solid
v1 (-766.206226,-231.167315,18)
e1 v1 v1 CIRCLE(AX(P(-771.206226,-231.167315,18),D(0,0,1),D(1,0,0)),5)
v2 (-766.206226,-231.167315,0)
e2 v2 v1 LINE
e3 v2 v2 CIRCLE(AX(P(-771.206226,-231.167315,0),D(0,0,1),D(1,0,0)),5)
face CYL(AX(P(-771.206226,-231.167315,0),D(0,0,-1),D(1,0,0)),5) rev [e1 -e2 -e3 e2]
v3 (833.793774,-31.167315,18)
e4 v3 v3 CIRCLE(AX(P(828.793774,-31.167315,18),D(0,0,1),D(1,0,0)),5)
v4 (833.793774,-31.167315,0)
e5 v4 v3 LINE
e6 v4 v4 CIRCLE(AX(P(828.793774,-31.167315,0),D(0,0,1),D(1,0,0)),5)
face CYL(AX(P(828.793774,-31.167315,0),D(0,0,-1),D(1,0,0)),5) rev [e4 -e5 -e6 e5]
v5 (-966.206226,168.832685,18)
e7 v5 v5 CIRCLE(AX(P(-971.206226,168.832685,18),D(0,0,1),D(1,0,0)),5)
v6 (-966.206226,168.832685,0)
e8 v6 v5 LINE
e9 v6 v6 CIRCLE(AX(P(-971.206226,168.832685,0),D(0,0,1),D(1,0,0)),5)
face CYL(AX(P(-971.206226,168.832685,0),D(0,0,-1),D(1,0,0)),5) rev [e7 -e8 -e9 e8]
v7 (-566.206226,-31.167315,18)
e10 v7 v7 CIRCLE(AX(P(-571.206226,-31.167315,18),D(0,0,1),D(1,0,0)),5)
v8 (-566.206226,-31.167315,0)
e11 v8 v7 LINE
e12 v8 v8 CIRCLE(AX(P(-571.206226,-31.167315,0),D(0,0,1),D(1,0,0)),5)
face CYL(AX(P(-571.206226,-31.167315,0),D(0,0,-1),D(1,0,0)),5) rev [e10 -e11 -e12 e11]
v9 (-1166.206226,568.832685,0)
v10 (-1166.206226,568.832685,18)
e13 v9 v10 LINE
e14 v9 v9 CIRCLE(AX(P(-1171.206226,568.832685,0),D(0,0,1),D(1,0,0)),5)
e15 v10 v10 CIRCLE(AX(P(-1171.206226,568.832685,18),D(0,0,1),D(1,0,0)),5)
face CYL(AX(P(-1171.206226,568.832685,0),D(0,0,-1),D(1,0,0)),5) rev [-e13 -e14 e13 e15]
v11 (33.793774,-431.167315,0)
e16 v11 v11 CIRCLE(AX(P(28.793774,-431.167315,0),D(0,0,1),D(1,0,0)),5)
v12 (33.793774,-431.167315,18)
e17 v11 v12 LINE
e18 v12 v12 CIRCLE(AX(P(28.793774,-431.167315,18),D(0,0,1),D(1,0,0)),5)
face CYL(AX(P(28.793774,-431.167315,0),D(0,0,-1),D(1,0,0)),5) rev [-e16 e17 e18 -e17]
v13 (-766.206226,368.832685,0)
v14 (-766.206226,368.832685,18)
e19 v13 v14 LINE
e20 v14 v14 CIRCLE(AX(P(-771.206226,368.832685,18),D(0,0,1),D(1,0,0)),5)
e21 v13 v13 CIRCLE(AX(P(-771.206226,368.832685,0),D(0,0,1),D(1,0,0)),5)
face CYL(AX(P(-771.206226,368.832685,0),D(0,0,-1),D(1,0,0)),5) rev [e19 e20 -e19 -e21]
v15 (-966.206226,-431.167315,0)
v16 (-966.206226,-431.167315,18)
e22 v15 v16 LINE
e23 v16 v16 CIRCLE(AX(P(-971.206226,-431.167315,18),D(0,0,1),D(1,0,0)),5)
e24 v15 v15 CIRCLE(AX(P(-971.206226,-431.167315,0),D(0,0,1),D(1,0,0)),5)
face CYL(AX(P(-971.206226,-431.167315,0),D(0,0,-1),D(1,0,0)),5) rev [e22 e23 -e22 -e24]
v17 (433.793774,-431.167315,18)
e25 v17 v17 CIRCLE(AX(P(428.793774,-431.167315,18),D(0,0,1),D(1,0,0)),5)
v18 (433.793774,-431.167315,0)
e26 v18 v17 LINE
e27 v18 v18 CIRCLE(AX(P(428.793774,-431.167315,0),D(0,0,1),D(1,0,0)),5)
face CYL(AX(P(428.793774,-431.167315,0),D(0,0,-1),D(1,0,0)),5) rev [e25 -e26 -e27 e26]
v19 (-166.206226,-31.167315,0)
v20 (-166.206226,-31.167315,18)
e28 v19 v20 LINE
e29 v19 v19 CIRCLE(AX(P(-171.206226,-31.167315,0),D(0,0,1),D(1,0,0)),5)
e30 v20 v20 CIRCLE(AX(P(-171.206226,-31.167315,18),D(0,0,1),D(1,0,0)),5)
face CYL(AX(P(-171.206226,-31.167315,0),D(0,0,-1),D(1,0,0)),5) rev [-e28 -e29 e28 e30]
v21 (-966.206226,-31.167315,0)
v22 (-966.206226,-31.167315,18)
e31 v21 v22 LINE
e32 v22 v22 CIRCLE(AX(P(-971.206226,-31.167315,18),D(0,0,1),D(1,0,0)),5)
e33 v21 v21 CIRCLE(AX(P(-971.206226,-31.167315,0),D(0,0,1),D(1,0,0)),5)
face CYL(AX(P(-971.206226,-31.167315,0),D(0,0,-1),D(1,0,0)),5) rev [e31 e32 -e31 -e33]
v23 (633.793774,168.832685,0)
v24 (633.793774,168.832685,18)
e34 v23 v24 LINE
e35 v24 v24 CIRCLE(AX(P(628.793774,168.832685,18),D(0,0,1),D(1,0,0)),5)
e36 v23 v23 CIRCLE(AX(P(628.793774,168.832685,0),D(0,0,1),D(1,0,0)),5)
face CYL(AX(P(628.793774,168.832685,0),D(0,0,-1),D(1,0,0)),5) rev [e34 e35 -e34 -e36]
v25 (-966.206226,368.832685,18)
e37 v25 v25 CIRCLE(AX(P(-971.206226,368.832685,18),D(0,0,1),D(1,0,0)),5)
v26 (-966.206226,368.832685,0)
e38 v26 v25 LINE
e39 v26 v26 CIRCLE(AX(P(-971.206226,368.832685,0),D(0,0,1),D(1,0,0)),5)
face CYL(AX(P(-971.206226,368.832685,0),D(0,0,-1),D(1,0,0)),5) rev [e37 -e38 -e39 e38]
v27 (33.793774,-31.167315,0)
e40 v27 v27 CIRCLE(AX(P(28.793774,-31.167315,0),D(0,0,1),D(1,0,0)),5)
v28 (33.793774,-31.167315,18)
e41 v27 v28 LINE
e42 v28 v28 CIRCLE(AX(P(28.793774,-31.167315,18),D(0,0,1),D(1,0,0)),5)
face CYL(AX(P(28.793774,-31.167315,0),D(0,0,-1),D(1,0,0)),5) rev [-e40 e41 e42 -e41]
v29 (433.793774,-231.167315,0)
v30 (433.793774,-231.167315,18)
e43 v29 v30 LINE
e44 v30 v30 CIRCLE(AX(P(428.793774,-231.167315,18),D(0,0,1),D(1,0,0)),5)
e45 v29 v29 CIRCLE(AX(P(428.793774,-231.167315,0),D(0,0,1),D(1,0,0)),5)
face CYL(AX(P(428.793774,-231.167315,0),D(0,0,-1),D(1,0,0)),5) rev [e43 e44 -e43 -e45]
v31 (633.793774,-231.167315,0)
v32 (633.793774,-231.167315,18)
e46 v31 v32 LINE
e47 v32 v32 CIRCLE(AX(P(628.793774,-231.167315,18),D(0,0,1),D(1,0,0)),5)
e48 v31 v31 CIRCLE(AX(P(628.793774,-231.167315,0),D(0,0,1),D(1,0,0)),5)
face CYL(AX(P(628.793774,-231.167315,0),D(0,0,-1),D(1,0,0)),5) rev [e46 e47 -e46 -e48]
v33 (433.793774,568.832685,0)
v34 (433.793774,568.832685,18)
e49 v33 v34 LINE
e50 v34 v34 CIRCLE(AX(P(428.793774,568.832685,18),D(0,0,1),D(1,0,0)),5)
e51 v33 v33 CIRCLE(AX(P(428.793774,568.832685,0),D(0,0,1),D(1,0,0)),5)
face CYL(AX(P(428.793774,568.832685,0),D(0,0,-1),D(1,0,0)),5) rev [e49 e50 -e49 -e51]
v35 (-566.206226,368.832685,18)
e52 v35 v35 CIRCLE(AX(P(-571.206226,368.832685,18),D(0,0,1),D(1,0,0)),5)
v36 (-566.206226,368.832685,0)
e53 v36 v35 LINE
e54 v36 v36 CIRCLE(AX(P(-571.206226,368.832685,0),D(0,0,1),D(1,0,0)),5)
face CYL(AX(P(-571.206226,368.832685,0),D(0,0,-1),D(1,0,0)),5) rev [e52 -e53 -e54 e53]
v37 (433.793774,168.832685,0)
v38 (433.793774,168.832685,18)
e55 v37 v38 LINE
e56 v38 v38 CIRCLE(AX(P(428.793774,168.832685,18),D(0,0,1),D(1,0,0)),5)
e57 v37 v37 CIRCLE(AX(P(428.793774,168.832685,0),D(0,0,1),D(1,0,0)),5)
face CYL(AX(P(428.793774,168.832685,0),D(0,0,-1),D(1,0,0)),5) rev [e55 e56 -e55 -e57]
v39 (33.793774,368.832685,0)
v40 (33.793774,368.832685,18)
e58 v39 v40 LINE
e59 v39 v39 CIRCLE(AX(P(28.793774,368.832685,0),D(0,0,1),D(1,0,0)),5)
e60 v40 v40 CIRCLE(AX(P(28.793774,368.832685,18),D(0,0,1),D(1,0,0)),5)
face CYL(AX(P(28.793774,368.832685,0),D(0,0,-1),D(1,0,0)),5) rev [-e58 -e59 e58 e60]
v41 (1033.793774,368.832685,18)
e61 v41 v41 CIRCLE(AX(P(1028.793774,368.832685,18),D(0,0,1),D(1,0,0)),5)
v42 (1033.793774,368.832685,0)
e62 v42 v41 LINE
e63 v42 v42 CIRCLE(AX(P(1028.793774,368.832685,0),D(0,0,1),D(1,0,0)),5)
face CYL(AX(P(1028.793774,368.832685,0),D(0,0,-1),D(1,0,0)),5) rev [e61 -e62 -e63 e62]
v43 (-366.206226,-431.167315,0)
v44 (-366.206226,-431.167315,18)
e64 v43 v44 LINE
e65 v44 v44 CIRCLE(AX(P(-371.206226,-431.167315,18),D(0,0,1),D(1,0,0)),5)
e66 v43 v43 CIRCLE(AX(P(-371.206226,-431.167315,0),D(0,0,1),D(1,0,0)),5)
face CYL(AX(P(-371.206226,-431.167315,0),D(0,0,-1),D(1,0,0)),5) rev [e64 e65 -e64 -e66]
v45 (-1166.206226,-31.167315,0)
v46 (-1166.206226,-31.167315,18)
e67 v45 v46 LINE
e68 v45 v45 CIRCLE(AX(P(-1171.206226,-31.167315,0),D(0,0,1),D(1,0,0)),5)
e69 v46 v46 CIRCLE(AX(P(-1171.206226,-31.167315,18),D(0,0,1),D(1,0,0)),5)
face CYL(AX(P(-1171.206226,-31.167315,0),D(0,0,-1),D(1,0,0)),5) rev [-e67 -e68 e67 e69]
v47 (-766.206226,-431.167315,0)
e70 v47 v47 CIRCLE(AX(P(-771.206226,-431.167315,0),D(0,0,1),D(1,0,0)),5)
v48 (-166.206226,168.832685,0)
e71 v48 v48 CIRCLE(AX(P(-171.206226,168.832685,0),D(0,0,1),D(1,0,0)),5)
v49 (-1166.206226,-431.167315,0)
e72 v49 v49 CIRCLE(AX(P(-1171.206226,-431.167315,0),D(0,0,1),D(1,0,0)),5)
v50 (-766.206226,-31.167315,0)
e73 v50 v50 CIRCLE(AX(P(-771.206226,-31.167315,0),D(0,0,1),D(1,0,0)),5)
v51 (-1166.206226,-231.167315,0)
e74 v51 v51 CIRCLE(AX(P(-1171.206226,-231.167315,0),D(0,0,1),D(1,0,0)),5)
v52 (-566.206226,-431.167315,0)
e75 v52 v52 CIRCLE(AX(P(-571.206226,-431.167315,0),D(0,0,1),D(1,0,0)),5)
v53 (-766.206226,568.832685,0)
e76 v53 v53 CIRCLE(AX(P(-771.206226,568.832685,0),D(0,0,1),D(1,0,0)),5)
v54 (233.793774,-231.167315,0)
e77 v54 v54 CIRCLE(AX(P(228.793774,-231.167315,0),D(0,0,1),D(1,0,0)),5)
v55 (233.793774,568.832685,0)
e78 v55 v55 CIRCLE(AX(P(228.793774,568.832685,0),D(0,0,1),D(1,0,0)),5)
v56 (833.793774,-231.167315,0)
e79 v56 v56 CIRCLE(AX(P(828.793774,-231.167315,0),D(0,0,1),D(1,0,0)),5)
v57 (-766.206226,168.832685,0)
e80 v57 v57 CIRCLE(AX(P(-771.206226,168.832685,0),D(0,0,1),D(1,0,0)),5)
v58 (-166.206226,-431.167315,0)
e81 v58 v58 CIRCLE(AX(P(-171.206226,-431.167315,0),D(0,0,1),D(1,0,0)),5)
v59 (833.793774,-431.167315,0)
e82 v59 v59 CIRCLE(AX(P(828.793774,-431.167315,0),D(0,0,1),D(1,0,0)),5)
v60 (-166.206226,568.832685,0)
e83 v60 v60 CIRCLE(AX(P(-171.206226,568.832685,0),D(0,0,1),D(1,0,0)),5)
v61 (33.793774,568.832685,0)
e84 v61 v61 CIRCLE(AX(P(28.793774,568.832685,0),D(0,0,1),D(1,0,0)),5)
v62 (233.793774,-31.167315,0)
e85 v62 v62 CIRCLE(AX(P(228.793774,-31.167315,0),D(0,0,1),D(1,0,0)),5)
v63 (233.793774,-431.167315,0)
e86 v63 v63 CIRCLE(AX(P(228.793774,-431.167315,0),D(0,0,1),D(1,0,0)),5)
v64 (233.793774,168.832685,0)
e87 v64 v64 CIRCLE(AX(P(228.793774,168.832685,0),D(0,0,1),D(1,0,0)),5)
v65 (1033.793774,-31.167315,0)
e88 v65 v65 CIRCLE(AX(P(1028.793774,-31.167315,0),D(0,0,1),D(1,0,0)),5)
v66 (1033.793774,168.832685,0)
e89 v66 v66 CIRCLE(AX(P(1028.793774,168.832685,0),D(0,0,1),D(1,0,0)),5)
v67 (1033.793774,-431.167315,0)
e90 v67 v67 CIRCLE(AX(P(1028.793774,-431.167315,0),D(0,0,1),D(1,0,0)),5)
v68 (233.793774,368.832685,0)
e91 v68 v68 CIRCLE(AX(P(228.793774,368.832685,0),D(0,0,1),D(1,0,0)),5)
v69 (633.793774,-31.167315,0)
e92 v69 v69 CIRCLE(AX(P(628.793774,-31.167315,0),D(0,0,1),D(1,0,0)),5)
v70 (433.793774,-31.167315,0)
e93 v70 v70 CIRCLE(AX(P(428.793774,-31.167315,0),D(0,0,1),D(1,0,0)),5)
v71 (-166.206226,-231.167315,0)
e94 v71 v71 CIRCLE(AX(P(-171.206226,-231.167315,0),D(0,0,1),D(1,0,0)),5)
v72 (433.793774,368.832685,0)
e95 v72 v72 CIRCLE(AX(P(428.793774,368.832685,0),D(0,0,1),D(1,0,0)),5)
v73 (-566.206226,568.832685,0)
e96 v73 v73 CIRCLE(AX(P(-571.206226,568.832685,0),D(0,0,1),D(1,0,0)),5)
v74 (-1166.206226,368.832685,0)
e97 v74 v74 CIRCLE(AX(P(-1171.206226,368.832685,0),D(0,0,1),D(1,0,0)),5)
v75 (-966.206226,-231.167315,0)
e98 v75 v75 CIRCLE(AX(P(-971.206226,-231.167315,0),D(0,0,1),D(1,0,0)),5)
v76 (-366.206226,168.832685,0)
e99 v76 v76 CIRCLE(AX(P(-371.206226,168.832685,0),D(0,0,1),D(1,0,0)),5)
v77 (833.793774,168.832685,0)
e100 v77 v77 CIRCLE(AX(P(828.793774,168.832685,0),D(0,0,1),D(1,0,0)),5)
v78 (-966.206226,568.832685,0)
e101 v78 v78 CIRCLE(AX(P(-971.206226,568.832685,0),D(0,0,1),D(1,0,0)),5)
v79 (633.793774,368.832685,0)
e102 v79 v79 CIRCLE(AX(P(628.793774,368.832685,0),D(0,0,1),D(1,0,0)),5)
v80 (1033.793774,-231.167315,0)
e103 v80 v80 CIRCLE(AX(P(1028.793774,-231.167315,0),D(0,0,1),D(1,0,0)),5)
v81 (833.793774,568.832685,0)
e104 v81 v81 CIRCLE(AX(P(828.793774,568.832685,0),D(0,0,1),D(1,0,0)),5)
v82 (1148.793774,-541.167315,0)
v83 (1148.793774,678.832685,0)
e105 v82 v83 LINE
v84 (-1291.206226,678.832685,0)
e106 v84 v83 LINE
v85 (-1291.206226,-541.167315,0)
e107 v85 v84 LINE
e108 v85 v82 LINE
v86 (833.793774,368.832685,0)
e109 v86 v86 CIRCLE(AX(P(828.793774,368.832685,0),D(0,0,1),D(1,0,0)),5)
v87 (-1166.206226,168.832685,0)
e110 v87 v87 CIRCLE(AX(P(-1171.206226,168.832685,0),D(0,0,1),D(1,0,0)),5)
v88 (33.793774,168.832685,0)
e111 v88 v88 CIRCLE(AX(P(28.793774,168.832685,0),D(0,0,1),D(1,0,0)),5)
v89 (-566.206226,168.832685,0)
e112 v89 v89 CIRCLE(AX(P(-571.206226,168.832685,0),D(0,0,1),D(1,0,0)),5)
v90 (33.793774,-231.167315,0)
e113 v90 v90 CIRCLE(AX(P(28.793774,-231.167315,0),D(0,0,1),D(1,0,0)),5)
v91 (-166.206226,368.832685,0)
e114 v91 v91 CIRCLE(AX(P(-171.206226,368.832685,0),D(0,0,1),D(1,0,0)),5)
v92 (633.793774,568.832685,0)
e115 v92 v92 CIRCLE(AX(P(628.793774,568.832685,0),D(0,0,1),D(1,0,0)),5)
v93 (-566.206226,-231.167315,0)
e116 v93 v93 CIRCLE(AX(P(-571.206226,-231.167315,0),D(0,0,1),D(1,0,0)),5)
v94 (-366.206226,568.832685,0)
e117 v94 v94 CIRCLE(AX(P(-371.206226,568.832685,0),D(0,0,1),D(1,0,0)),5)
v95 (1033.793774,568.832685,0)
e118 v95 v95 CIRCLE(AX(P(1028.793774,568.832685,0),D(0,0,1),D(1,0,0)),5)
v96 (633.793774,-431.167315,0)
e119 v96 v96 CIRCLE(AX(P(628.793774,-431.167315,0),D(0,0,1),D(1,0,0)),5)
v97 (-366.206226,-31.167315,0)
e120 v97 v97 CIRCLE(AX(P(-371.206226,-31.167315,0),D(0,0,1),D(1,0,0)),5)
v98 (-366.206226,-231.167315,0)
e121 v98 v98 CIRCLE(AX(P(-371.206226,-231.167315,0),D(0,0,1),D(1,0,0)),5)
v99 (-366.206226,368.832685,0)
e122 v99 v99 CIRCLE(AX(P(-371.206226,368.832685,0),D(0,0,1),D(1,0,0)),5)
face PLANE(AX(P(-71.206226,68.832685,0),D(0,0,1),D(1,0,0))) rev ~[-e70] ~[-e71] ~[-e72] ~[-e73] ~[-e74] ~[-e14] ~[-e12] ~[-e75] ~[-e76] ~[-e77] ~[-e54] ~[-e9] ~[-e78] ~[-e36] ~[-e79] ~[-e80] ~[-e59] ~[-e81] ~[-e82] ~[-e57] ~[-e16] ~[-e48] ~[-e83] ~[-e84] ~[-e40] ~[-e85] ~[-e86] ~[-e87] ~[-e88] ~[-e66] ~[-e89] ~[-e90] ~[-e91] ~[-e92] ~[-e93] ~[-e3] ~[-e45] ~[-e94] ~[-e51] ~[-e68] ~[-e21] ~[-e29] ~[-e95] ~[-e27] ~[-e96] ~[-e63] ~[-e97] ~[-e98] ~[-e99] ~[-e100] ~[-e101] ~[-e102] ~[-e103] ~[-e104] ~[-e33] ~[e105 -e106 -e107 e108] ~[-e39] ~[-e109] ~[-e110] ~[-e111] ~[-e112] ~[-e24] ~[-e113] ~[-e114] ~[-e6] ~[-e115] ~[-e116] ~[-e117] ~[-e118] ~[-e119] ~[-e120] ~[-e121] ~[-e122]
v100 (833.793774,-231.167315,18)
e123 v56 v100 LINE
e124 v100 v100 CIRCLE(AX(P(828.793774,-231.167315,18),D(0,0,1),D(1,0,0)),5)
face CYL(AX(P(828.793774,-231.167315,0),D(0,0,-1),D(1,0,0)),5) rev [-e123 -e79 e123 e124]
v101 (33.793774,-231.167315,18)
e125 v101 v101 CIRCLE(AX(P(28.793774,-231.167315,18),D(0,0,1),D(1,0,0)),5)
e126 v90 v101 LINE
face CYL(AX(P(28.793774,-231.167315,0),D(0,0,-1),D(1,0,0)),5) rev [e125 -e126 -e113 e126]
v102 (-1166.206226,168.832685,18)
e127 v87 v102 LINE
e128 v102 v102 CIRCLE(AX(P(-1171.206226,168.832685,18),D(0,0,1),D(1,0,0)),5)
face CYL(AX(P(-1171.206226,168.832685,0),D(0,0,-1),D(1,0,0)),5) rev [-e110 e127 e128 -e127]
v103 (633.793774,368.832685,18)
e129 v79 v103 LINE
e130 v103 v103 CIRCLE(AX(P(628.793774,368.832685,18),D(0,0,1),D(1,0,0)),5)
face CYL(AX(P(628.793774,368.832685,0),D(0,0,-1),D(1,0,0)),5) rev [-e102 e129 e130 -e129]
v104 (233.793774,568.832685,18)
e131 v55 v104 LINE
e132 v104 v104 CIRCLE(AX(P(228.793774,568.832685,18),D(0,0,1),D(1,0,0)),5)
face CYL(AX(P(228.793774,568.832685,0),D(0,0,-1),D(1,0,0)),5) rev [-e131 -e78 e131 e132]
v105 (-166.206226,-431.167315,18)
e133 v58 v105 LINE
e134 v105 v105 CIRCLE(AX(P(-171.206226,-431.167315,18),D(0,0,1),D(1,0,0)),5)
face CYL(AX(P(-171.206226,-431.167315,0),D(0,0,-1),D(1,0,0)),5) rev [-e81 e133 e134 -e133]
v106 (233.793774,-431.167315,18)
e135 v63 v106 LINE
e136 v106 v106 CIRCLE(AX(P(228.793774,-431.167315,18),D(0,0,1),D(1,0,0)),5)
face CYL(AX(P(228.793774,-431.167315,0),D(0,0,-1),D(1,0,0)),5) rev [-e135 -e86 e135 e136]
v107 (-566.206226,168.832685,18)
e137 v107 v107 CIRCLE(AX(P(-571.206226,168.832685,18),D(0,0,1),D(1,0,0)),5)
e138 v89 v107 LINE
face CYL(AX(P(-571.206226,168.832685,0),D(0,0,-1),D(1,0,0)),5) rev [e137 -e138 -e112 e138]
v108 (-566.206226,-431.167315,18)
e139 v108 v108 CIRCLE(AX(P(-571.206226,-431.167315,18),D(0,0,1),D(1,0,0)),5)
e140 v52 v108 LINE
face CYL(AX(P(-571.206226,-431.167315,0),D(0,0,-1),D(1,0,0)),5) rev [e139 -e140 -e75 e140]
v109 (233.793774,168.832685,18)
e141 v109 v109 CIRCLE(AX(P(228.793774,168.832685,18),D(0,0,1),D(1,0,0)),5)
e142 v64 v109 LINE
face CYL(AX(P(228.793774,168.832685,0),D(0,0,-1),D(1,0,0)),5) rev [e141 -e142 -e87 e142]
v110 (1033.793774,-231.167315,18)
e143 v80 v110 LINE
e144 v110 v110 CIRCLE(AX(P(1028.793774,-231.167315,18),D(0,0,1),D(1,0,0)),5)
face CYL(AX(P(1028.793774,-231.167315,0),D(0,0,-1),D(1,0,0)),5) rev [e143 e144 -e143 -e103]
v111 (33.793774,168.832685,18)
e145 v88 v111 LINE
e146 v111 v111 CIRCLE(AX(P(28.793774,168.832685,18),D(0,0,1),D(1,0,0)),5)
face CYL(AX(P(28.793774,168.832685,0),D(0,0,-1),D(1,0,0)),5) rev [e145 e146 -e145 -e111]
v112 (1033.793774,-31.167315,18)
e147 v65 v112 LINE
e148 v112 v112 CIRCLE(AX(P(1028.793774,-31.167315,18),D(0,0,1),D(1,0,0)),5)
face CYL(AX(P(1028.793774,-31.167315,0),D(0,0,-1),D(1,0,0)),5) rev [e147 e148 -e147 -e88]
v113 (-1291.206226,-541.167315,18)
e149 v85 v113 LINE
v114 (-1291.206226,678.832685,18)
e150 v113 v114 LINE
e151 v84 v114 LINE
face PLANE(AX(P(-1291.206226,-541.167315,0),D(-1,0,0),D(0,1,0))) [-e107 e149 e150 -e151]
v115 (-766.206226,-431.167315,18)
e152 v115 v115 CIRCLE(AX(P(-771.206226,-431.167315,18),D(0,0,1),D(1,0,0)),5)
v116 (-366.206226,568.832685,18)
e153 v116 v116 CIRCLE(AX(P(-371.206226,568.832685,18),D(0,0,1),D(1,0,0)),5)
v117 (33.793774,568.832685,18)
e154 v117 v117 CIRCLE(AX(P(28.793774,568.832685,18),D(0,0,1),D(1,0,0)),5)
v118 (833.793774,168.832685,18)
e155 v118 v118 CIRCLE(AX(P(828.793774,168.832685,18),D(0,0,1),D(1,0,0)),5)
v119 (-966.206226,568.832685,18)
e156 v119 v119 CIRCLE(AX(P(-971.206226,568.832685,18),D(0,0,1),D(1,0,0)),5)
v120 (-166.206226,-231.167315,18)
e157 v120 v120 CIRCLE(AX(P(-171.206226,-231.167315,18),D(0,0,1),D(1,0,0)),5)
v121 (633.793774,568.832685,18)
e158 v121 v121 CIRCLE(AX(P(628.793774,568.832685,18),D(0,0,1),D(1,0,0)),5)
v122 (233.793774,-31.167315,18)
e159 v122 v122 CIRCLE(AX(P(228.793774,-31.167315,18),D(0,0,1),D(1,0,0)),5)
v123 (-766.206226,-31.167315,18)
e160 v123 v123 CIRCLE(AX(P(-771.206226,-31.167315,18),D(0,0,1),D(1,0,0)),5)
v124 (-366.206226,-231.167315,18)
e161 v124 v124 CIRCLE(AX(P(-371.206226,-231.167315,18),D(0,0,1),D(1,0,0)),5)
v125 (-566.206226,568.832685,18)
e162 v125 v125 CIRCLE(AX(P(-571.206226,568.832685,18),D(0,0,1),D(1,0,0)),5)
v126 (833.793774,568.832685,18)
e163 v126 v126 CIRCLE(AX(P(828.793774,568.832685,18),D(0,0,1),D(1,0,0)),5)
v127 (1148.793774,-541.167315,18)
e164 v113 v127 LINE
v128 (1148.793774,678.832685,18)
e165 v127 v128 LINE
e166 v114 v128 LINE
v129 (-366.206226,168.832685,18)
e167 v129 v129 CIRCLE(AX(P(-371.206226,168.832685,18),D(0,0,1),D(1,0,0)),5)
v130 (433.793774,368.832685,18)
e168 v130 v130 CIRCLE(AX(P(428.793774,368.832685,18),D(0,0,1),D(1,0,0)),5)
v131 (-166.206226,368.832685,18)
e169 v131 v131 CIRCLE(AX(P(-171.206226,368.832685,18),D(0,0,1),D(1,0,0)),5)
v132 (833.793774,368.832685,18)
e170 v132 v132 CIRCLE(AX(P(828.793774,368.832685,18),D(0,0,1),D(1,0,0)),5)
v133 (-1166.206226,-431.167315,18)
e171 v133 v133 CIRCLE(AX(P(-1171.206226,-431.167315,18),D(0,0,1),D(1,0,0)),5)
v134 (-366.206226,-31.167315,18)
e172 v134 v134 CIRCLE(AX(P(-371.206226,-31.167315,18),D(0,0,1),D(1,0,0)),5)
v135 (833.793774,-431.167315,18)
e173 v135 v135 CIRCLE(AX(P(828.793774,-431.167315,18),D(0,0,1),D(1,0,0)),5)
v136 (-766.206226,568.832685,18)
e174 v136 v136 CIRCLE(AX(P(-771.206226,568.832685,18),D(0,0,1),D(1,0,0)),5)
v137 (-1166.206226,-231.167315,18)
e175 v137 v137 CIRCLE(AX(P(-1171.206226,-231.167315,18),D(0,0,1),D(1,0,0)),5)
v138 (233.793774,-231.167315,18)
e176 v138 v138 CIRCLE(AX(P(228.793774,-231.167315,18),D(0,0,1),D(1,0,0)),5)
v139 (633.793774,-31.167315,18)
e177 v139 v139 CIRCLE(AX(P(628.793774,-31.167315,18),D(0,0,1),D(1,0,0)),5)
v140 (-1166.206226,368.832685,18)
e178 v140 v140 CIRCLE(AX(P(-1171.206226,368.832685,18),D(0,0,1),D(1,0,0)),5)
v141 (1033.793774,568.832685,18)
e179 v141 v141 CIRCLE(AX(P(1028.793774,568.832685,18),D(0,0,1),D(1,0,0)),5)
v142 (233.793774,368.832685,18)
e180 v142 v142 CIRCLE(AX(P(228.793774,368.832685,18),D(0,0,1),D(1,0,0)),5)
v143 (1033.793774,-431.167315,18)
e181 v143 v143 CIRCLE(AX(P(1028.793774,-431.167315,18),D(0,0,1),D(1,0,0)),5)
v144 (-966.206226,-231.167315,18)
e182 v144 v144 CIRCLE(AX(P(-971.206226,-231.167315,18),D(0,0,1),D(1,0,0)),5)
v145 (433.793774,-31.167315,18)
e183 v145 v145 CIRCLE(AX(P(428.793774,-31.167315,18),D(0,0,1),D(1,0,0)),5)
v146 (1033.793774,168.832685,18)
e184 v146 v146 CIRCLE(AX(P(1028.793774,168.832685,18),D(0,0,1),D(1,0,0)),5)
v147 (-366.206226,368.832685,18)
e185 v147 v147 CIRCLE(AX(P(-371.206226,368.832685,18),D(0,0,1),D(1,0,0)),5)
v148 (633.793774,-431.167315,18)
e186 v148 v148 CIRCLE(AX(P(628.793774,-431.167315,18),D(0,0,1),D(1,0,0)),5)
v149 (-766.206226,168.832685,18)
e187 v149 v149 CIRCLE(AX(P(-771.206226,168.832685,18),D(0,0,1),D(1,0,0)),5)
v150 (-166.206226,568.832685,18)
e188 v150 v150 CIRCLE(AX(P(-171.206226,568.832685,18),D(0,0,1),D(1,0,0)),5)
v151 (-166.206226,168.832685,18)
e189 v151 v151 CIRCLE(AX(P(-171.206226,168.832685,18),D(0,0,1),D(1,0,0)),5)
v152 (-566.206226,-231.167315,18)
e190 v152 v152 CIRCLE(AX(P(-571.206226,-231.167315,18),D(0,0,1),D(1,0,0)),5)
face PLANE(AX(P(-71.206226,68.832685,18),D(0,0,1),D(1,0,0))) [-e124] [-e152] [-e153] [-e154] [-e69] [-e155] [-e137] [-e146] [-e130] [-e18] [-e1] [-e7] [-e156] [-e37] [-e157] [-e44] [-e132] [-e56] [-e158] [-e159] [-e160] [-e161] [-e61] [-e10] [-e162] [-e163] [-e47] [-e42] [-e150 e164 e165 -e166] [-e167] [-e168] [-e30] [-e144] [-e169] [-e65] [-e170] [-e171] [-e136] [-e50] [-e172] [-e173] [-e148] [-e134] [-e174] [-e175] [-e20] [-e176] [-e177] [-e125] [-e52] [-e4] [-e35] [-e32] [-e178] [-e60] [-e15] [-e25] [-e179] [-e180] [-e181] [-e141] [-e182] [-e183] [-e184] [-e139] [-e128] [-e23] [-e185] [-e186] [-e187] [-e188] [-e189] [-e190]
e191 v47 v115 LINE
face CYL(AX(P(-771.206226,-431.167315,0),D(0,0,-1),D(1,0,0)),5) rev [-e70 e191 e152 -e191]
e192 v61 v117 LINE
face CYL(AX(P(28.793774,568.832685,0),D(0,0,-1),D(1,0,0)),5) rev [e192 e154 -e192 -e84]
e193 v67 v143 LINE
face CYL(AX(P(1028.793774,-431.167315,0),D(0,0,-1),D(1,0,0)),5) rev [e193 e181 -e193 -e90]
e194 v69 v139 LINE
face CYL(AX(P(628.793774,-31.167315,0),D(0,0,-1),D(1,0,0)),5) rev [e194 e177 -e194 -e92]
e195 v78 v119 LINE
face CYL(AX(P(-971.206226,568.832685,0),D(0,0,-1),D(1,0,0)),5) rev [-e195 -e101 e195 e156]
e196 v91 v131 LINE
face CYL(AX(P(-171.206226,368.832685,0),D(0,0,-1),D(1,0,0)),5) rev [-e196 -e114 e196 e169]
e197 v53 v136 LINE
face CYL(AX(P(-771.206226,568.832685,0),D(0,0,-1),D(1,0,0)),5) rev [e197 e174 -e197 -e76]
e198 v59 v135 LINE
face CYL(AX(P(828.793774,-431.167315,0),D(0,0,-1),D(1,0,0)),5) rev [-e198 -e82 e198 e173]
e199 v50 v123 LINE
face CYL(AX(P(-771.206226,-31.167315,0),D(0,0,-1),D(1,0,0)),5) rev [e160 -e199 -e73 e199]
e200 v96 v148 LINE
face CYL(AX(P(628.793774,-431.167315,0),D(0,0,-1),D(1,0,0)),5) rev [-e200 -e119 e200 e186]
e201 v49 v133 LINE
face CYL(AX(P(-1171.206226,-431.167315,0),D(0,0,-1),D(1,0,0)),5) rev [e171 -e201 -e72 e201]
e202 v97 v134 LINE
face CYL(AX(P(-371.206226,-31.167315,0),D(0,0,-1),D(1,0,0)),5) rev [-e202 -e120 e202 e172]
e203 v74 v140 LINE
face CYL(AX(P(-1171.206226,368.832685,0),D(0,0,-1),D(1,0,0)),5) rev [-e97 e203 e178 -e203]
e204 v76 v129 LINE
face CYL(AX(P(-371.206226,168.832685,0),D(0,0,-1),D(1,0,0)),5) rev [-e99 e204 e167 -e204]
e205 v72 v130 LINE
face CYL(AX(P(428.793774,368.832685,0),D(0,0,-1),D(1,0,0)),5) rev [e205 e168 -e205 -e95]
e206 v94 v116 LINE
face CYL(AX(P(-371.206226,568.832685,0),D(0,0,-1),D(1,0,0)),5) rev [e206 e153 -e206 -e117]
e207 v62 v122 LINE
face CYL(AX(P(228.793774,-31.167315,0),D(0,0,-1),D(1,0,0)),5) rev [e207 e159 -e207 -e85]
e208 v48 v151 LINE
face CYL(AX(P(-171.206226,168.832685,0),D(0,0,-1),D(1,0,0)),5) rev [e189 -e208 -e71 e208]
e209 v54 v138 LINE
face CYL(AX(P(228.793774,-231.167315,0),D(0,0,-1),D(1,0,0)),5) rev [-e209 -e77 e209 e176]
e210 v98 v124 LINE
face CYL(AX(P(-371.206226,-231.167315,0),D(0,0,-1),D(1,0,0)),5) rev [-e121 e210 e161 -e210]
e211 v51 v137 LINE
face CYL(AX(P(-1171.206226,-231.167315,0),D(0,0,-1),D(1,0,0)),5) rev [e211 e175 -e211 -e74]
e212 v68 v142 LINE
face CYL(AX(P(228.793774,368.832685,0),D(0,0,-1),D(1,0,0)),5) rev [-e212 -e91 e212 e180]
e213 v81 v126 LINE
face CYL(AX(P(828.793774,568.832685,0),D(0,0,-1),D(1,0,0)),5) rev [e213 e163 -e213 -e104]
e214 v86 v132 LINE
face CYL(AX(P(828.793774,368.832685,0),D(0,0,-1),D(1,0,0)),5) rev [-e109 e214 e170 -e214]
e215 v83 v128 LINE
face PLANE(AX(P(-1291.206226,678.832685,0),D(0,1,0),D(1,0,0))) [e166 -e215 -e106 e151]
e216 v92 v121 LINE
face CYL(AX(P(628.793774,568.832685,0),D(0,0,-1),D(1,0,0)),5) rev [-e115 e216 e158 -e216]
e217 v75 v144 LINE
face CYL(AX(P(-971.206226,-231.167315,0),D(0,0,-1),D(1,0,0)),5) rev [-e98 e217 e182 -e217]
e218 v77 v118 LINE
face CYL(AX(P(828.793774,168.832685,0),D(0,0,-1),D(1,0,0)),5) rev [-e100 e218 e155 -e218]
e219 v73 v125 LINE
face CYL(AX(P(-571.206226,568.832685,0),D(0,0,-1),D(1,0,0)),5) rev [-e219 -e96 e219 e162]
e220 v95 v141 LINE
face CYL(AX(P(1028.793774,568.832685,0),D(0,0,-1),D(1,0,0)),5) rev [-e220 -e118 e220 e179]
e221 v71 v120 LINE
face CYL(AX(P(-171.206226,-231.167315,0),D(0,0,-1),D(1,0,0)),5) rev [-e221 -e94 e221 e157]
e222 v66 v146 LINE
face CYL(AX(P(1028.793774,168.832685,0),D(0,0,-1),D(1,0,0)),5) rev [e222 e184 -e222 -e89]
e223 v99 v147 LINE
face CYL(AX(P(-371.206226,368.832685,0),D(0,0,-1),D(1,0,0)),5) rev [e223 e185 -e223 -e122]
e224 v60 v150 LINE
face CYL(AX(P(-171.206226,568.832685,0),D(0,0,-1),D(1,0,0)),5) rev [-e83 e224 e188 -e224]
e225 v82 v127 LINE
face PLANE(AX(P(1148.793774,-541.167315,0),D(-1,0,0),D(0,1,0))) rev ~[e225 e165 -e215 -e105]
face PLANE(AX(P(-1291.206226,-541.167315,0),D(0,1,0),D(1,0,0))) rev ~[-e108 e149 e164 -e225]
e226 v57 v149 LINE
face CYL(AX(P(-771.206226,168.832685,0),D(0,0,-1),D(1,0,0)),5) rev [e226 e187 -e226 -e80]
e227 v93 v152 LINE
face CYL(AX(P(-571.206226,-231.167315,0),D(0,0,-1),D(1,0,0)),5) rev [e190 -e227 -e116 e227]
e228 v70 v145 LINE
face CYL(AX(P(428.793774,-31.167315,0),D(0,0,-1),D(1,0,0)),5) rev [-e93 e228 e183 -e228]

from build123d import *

# Parameters (mm, degrees)
SKETCH1_W           = 2440
SKETCH1_H           = 1220
SKETCH1_R           = 5
BOSS_EXTRUDE1_DEPTH = 18


with BuildPart() as part:
    # Sketch1 → Boss-Extrude1 (new body)
    with BuildSketch(Plane.XY):
        with Locations((-71.206225681, 68.832684825)):
            Rectangle(SKETCH1_W, SKETCH1_H)
        with Locations((-1171.206225681, 568.832684825)):
            Circle(SKETCH1_R, mode=Mode.SUBTRACT)
        with Locations((-971.206225681, 568.832684825)):
            Circle(SKETCH1_R, mode=Mode.SUBTRACT)
        with Locations((-771.206225681, 568.832684825)):
            Circle(SKETCH1_R, mode=Mode.SUBTRACT)
        with Locations((-571.206225681, 568.832684825)):
            Circle(SKETCH1_R, mode=Mode.SUBTRACT)
        with Locations((-371.206225681, 568.832684825)):
            Circle(SKETCH1_R, mode=Mode.SUBTRACT)
        with Locations((-171.206225681, 568.832684825)):
            Circle(SKETCH1_R, mode=Mode.SUBTRACT)
        with Locations((28.793774319, 568.832684825)):
            Circle(SKETCH1_R, mode=Mode.SUBTRACT)
        with Locations((228.793774319, 568.832684825)):
            Circle(SKETCH1_R, mode=Mode.SUBTRACT)
        with Locations((428.793774319, 568.832684825)):
            Circle(SKETCH1_R, mode=Mode.SUBTRACT)
        with Locations((628.793774319, 568.832684825)):
            Circle(SKETCH1_R, mode=Mode.SUBTRACT)
        with Locations((828.793774319, 568.832684825)):
            Circle(SKETCH1_R, mode=Mode.SUBTRACT)
        with Locations((1028.793774319, 568.832684825)):
            Circle(SKETCH1_R, mode=Mode.SUBTRACT)
        with Locations((1028.793774319, 368.832684825)):
            Circle(SKETCH1_R, mode=Mode.SUBTRACT)
        with Locations((1028.793774319, 168.832684825)):
            Circle(SKETCH1_R, mode=Mode.SUBTRACT)
        with Locations((1028.793774319, -31.167315175)):
            Circle(SKETCH1_R, mode=Mode.SUBTRACT)
        with Locations((1028.793774319, -231.167315175)):
            Circle(SKETCH1_R, mode=Mode.SUBTRACT)
        with Locations((1028.793774319, -431.167315175)):
            Circle(SKETCH1_R, mode=Mode.SUBTRACT)
        with Locations((828.793774319, -431.167315175)):
            Circle(SKETCH1_R, mode=Mode.SUBTRACT)
        with Locations((628.793774319, -431.167315175)):
            Circle(SKETCH1_R, mode=Mode.SUBTRACT)
        with Locations((428.793774319, -431.167315175)):
            Circle(SKETCH1_R, mode=Mode.SUBTRACT)
        with Locations((228.793774319, -431.167315175)):
            Circle(SKETCH1_R, mode=Mode.SUBTRACT)
        with Locations((28.793774319, -431.167315175)):
            Circle(SKETCH1_R, mode=Mode.SUBTRACT)
        with Locations((-171.206225681, -431.167315175)):
            Circle(SKETCH1_R, mode=Mode.SUBTRACT)
        with Locations((-371.206225681, -431.167315175)):
            Circle(SKETCH1_R, mode=Mode.SUBTRACT)
        with Locations((-571.206225681, -431.167315175)):
            Circle(SKETCH1_R, mode=Mode.SUBTRACT)
        with Locations((-771.206225681, -431.167315175)):
            Circle(SKETCH1_R, mode=Mode.SUBTRACT)
        with Locations((-971.206225681, -431.167315175)):
            Circle(SKETCH1_R, mode=Mode.SUBTRACT)
        with Locations((-1171.206225681, -431.167315175)):
            Circle(SKETCH1_R, mode=Mode.SUBTRACT)
        with Locations((-1171.206225681, -231.167315175)):
            Circle(SKETCH1_R, mode=Mode.SUBTRACT)
        with Locations((-1171.206225681, -31.167315175)):
            Circle(SKETCH1_R, mode=Mode.SUBTRACT)
        with Locations((-1171.206225681, 168.832684825)):
            Circle(SKETCH1_R, mode=Mode.SUBTRACT)
        with Locations((-1171.206225681, 368.832684825)):
            Circle(SKETCH1_R, mode=Mode.SUBTRACT)
        with Locations((-971.206225681, 368.832684825)):
            Circle(SKETCH1_R, mode=Mode.SUBTRACT)
        with Locations((-771.206225681, 368.832684825)):
            Circle(SKETCH1_R, mode=Mode.SUBTRACT)
        with Locations((-571.206225681, 368.832684825)):
            Circle(SKETCH1_R, mode=Mode.SUBTRACT)
        with Locations((-371.206225681, 368.832684825)):
            Circle(SKETCH1_R, mode=Mode.SUBTRACT)
        with Locations((-171.206225681, 368.832684825)):
            Circle(SKETCH1_R, mode=Mode.SUBTRACT)
        with Locations((28.793774319, 368.832684825)):
            Circle(SKETCH1_R, mode=Mode.SUBTRACT)
        with Locations((228.793774319, 368.832684825)):
            Circle(SKETCH1_R, mode=Mode.SUBTRACT)
        with Locations((428.793774319, 368.832684825)):
            Circle(SKETCH1_R, mode=Mode.SUBTRACT)
        with Locations((628.793774319, 368.832684825)):
            Circle(SKETCH1_R, mode=Mode.SUBTRACT)
        with Locations((828.793774319, 368.832684825)):
            Circle(SKETCH1_R, mode=Mode.SUBTRACT)
        with Locations((828.793774319, 168.832684825)):
            Circle(SKETCH1_R, mode=Mode.SUBTRACT)
        with Locations((828.793774319, -31.167315175)):
            Circle(SKETCH1_R, mode=Mode.SUBTRACT)
        with Locations((828.793774319, -231.167315175)):
            Circle(SKETCH1_R, mode=Mode.SUBTRACT)
        with Locations((628.793774319, -231.167315175)):
            Circle(SKETCH1_R, mode=Mode.SUBTRACT)
        with Locations((428.793774319, -231.167315175)):
            Circle(SKETCH1_R, mode=Mode.SUBTRACT)
        with Locations((228.793774319, -231.167315175)):
            Circle(SKETCH1_R, mode=Mode.SUBTRACT)
        with Locations((28.793774319, -231.167315175)):
            Circle(SKETCH1_R, mode=Mode.SUBTRACT)
        with Locations((-171.206225681, -231.167315175)):
            Circle(SKETCH1_R, mode=Mode.SUBTRACT)
        with Locations((-371.206225681, -231.167315175)):
            Circle(SKETCH1_R, mode=Mode.SUBTRACT)
        with Locations((-571.206225681, -231.167315175)):
            Circle(SKETCH1_R, mode=Mode.SUBTRACT)
        with Locations((-771.206225681, -231.167315175)):
            Circle(SKETCH1_R, mode=Mode.SUBTRACT)
        with Locations((-971.206225681, -231.167315175)):
            Circle(SKETCH1_R, mode=Mode.SUBTRACT)
        with Locations((-971.206225681, -31.167315175)):
            Circle(SKETCH1_R, mode=Mode.SUBTRACT)
        with Locations((-971.206225681, 168.832684825)):
            Circle(SKETCH1_R, mode=Mode.SUBTRACT)
        with Locations((-771.206225681, 168.832684825)):
            Circle(SKETCH1_R, mode=Mode.SUBTRACT)
        with Locations((-571.206225681, 168.832684825)):
            Circle(SKETCH1_R, mode=Mode.SUBTRACT)
        with Locations((-371.206225681, 168.832684825)):
            Circle(SKETCH1_R, mode=Mode.SUBTRACT)
        with Locations((-171.206225681, 168.832684825)):
            Circle(SKETCH1_R, mode=Mode.SUBTRACT)
        with Locations((28.793774319, 168.832684825)):
            Circle(SKETCH1_R, mode=Mode.SUBTRACT)
        with Locations((228.793774319, 168.832684825)):
            Circle(SKETCH1_R, mode=Mode.SUBTRACT)
        with Locations((428.793774319, 168.832684825)):
            Circle(SKETCH1_R, mode=Mode.SUBTRACT)
        with Locations((628.793774319, 168.832684825)):
            Circle(SKETCH1_R, mode=Mode.SUBTRACT)
        with Locations((628.793774319, -31.167315175)):
            Circle(SKETCH1_R, mode=Mode.SUBTRACT)
        with Locations((428.793774319, -31.167315175)):
            Circle(SKETCH1_R, mode=Mode.SUBTRACT)
        with Locations((228.793774319, -31.167315175)):
            Circle(SKETCH1_R, mode=Mode.SUBTRACT)
        with Locations((28.793774319, -31.167315175)):
            Circle(SKETCH1_R, mode=Mode.SUBTRACT)
        with Locations((-171.206225681, -31.167315175)):
            Circle(SKETCH1_R, mode=Mode.SUBTRACT)
        with Locations((-371.206225681, -31.167315175)):
            Circle(SKETCH1_R, mode=Mode.SUBTRACT)
        with Locations((-571.206225681, -31.167315175)):
            Circle(SKETCH1_R, mode=Mode.SUBTRACT)
        with Locations((-771.206225681, -31.167315175)):
            Circle(SKETCH1_R, mode=Mode.SUBTRACT)
    extrude(amount=BOSS_EXTRUDE1_DEPTH)


solid = part.part
